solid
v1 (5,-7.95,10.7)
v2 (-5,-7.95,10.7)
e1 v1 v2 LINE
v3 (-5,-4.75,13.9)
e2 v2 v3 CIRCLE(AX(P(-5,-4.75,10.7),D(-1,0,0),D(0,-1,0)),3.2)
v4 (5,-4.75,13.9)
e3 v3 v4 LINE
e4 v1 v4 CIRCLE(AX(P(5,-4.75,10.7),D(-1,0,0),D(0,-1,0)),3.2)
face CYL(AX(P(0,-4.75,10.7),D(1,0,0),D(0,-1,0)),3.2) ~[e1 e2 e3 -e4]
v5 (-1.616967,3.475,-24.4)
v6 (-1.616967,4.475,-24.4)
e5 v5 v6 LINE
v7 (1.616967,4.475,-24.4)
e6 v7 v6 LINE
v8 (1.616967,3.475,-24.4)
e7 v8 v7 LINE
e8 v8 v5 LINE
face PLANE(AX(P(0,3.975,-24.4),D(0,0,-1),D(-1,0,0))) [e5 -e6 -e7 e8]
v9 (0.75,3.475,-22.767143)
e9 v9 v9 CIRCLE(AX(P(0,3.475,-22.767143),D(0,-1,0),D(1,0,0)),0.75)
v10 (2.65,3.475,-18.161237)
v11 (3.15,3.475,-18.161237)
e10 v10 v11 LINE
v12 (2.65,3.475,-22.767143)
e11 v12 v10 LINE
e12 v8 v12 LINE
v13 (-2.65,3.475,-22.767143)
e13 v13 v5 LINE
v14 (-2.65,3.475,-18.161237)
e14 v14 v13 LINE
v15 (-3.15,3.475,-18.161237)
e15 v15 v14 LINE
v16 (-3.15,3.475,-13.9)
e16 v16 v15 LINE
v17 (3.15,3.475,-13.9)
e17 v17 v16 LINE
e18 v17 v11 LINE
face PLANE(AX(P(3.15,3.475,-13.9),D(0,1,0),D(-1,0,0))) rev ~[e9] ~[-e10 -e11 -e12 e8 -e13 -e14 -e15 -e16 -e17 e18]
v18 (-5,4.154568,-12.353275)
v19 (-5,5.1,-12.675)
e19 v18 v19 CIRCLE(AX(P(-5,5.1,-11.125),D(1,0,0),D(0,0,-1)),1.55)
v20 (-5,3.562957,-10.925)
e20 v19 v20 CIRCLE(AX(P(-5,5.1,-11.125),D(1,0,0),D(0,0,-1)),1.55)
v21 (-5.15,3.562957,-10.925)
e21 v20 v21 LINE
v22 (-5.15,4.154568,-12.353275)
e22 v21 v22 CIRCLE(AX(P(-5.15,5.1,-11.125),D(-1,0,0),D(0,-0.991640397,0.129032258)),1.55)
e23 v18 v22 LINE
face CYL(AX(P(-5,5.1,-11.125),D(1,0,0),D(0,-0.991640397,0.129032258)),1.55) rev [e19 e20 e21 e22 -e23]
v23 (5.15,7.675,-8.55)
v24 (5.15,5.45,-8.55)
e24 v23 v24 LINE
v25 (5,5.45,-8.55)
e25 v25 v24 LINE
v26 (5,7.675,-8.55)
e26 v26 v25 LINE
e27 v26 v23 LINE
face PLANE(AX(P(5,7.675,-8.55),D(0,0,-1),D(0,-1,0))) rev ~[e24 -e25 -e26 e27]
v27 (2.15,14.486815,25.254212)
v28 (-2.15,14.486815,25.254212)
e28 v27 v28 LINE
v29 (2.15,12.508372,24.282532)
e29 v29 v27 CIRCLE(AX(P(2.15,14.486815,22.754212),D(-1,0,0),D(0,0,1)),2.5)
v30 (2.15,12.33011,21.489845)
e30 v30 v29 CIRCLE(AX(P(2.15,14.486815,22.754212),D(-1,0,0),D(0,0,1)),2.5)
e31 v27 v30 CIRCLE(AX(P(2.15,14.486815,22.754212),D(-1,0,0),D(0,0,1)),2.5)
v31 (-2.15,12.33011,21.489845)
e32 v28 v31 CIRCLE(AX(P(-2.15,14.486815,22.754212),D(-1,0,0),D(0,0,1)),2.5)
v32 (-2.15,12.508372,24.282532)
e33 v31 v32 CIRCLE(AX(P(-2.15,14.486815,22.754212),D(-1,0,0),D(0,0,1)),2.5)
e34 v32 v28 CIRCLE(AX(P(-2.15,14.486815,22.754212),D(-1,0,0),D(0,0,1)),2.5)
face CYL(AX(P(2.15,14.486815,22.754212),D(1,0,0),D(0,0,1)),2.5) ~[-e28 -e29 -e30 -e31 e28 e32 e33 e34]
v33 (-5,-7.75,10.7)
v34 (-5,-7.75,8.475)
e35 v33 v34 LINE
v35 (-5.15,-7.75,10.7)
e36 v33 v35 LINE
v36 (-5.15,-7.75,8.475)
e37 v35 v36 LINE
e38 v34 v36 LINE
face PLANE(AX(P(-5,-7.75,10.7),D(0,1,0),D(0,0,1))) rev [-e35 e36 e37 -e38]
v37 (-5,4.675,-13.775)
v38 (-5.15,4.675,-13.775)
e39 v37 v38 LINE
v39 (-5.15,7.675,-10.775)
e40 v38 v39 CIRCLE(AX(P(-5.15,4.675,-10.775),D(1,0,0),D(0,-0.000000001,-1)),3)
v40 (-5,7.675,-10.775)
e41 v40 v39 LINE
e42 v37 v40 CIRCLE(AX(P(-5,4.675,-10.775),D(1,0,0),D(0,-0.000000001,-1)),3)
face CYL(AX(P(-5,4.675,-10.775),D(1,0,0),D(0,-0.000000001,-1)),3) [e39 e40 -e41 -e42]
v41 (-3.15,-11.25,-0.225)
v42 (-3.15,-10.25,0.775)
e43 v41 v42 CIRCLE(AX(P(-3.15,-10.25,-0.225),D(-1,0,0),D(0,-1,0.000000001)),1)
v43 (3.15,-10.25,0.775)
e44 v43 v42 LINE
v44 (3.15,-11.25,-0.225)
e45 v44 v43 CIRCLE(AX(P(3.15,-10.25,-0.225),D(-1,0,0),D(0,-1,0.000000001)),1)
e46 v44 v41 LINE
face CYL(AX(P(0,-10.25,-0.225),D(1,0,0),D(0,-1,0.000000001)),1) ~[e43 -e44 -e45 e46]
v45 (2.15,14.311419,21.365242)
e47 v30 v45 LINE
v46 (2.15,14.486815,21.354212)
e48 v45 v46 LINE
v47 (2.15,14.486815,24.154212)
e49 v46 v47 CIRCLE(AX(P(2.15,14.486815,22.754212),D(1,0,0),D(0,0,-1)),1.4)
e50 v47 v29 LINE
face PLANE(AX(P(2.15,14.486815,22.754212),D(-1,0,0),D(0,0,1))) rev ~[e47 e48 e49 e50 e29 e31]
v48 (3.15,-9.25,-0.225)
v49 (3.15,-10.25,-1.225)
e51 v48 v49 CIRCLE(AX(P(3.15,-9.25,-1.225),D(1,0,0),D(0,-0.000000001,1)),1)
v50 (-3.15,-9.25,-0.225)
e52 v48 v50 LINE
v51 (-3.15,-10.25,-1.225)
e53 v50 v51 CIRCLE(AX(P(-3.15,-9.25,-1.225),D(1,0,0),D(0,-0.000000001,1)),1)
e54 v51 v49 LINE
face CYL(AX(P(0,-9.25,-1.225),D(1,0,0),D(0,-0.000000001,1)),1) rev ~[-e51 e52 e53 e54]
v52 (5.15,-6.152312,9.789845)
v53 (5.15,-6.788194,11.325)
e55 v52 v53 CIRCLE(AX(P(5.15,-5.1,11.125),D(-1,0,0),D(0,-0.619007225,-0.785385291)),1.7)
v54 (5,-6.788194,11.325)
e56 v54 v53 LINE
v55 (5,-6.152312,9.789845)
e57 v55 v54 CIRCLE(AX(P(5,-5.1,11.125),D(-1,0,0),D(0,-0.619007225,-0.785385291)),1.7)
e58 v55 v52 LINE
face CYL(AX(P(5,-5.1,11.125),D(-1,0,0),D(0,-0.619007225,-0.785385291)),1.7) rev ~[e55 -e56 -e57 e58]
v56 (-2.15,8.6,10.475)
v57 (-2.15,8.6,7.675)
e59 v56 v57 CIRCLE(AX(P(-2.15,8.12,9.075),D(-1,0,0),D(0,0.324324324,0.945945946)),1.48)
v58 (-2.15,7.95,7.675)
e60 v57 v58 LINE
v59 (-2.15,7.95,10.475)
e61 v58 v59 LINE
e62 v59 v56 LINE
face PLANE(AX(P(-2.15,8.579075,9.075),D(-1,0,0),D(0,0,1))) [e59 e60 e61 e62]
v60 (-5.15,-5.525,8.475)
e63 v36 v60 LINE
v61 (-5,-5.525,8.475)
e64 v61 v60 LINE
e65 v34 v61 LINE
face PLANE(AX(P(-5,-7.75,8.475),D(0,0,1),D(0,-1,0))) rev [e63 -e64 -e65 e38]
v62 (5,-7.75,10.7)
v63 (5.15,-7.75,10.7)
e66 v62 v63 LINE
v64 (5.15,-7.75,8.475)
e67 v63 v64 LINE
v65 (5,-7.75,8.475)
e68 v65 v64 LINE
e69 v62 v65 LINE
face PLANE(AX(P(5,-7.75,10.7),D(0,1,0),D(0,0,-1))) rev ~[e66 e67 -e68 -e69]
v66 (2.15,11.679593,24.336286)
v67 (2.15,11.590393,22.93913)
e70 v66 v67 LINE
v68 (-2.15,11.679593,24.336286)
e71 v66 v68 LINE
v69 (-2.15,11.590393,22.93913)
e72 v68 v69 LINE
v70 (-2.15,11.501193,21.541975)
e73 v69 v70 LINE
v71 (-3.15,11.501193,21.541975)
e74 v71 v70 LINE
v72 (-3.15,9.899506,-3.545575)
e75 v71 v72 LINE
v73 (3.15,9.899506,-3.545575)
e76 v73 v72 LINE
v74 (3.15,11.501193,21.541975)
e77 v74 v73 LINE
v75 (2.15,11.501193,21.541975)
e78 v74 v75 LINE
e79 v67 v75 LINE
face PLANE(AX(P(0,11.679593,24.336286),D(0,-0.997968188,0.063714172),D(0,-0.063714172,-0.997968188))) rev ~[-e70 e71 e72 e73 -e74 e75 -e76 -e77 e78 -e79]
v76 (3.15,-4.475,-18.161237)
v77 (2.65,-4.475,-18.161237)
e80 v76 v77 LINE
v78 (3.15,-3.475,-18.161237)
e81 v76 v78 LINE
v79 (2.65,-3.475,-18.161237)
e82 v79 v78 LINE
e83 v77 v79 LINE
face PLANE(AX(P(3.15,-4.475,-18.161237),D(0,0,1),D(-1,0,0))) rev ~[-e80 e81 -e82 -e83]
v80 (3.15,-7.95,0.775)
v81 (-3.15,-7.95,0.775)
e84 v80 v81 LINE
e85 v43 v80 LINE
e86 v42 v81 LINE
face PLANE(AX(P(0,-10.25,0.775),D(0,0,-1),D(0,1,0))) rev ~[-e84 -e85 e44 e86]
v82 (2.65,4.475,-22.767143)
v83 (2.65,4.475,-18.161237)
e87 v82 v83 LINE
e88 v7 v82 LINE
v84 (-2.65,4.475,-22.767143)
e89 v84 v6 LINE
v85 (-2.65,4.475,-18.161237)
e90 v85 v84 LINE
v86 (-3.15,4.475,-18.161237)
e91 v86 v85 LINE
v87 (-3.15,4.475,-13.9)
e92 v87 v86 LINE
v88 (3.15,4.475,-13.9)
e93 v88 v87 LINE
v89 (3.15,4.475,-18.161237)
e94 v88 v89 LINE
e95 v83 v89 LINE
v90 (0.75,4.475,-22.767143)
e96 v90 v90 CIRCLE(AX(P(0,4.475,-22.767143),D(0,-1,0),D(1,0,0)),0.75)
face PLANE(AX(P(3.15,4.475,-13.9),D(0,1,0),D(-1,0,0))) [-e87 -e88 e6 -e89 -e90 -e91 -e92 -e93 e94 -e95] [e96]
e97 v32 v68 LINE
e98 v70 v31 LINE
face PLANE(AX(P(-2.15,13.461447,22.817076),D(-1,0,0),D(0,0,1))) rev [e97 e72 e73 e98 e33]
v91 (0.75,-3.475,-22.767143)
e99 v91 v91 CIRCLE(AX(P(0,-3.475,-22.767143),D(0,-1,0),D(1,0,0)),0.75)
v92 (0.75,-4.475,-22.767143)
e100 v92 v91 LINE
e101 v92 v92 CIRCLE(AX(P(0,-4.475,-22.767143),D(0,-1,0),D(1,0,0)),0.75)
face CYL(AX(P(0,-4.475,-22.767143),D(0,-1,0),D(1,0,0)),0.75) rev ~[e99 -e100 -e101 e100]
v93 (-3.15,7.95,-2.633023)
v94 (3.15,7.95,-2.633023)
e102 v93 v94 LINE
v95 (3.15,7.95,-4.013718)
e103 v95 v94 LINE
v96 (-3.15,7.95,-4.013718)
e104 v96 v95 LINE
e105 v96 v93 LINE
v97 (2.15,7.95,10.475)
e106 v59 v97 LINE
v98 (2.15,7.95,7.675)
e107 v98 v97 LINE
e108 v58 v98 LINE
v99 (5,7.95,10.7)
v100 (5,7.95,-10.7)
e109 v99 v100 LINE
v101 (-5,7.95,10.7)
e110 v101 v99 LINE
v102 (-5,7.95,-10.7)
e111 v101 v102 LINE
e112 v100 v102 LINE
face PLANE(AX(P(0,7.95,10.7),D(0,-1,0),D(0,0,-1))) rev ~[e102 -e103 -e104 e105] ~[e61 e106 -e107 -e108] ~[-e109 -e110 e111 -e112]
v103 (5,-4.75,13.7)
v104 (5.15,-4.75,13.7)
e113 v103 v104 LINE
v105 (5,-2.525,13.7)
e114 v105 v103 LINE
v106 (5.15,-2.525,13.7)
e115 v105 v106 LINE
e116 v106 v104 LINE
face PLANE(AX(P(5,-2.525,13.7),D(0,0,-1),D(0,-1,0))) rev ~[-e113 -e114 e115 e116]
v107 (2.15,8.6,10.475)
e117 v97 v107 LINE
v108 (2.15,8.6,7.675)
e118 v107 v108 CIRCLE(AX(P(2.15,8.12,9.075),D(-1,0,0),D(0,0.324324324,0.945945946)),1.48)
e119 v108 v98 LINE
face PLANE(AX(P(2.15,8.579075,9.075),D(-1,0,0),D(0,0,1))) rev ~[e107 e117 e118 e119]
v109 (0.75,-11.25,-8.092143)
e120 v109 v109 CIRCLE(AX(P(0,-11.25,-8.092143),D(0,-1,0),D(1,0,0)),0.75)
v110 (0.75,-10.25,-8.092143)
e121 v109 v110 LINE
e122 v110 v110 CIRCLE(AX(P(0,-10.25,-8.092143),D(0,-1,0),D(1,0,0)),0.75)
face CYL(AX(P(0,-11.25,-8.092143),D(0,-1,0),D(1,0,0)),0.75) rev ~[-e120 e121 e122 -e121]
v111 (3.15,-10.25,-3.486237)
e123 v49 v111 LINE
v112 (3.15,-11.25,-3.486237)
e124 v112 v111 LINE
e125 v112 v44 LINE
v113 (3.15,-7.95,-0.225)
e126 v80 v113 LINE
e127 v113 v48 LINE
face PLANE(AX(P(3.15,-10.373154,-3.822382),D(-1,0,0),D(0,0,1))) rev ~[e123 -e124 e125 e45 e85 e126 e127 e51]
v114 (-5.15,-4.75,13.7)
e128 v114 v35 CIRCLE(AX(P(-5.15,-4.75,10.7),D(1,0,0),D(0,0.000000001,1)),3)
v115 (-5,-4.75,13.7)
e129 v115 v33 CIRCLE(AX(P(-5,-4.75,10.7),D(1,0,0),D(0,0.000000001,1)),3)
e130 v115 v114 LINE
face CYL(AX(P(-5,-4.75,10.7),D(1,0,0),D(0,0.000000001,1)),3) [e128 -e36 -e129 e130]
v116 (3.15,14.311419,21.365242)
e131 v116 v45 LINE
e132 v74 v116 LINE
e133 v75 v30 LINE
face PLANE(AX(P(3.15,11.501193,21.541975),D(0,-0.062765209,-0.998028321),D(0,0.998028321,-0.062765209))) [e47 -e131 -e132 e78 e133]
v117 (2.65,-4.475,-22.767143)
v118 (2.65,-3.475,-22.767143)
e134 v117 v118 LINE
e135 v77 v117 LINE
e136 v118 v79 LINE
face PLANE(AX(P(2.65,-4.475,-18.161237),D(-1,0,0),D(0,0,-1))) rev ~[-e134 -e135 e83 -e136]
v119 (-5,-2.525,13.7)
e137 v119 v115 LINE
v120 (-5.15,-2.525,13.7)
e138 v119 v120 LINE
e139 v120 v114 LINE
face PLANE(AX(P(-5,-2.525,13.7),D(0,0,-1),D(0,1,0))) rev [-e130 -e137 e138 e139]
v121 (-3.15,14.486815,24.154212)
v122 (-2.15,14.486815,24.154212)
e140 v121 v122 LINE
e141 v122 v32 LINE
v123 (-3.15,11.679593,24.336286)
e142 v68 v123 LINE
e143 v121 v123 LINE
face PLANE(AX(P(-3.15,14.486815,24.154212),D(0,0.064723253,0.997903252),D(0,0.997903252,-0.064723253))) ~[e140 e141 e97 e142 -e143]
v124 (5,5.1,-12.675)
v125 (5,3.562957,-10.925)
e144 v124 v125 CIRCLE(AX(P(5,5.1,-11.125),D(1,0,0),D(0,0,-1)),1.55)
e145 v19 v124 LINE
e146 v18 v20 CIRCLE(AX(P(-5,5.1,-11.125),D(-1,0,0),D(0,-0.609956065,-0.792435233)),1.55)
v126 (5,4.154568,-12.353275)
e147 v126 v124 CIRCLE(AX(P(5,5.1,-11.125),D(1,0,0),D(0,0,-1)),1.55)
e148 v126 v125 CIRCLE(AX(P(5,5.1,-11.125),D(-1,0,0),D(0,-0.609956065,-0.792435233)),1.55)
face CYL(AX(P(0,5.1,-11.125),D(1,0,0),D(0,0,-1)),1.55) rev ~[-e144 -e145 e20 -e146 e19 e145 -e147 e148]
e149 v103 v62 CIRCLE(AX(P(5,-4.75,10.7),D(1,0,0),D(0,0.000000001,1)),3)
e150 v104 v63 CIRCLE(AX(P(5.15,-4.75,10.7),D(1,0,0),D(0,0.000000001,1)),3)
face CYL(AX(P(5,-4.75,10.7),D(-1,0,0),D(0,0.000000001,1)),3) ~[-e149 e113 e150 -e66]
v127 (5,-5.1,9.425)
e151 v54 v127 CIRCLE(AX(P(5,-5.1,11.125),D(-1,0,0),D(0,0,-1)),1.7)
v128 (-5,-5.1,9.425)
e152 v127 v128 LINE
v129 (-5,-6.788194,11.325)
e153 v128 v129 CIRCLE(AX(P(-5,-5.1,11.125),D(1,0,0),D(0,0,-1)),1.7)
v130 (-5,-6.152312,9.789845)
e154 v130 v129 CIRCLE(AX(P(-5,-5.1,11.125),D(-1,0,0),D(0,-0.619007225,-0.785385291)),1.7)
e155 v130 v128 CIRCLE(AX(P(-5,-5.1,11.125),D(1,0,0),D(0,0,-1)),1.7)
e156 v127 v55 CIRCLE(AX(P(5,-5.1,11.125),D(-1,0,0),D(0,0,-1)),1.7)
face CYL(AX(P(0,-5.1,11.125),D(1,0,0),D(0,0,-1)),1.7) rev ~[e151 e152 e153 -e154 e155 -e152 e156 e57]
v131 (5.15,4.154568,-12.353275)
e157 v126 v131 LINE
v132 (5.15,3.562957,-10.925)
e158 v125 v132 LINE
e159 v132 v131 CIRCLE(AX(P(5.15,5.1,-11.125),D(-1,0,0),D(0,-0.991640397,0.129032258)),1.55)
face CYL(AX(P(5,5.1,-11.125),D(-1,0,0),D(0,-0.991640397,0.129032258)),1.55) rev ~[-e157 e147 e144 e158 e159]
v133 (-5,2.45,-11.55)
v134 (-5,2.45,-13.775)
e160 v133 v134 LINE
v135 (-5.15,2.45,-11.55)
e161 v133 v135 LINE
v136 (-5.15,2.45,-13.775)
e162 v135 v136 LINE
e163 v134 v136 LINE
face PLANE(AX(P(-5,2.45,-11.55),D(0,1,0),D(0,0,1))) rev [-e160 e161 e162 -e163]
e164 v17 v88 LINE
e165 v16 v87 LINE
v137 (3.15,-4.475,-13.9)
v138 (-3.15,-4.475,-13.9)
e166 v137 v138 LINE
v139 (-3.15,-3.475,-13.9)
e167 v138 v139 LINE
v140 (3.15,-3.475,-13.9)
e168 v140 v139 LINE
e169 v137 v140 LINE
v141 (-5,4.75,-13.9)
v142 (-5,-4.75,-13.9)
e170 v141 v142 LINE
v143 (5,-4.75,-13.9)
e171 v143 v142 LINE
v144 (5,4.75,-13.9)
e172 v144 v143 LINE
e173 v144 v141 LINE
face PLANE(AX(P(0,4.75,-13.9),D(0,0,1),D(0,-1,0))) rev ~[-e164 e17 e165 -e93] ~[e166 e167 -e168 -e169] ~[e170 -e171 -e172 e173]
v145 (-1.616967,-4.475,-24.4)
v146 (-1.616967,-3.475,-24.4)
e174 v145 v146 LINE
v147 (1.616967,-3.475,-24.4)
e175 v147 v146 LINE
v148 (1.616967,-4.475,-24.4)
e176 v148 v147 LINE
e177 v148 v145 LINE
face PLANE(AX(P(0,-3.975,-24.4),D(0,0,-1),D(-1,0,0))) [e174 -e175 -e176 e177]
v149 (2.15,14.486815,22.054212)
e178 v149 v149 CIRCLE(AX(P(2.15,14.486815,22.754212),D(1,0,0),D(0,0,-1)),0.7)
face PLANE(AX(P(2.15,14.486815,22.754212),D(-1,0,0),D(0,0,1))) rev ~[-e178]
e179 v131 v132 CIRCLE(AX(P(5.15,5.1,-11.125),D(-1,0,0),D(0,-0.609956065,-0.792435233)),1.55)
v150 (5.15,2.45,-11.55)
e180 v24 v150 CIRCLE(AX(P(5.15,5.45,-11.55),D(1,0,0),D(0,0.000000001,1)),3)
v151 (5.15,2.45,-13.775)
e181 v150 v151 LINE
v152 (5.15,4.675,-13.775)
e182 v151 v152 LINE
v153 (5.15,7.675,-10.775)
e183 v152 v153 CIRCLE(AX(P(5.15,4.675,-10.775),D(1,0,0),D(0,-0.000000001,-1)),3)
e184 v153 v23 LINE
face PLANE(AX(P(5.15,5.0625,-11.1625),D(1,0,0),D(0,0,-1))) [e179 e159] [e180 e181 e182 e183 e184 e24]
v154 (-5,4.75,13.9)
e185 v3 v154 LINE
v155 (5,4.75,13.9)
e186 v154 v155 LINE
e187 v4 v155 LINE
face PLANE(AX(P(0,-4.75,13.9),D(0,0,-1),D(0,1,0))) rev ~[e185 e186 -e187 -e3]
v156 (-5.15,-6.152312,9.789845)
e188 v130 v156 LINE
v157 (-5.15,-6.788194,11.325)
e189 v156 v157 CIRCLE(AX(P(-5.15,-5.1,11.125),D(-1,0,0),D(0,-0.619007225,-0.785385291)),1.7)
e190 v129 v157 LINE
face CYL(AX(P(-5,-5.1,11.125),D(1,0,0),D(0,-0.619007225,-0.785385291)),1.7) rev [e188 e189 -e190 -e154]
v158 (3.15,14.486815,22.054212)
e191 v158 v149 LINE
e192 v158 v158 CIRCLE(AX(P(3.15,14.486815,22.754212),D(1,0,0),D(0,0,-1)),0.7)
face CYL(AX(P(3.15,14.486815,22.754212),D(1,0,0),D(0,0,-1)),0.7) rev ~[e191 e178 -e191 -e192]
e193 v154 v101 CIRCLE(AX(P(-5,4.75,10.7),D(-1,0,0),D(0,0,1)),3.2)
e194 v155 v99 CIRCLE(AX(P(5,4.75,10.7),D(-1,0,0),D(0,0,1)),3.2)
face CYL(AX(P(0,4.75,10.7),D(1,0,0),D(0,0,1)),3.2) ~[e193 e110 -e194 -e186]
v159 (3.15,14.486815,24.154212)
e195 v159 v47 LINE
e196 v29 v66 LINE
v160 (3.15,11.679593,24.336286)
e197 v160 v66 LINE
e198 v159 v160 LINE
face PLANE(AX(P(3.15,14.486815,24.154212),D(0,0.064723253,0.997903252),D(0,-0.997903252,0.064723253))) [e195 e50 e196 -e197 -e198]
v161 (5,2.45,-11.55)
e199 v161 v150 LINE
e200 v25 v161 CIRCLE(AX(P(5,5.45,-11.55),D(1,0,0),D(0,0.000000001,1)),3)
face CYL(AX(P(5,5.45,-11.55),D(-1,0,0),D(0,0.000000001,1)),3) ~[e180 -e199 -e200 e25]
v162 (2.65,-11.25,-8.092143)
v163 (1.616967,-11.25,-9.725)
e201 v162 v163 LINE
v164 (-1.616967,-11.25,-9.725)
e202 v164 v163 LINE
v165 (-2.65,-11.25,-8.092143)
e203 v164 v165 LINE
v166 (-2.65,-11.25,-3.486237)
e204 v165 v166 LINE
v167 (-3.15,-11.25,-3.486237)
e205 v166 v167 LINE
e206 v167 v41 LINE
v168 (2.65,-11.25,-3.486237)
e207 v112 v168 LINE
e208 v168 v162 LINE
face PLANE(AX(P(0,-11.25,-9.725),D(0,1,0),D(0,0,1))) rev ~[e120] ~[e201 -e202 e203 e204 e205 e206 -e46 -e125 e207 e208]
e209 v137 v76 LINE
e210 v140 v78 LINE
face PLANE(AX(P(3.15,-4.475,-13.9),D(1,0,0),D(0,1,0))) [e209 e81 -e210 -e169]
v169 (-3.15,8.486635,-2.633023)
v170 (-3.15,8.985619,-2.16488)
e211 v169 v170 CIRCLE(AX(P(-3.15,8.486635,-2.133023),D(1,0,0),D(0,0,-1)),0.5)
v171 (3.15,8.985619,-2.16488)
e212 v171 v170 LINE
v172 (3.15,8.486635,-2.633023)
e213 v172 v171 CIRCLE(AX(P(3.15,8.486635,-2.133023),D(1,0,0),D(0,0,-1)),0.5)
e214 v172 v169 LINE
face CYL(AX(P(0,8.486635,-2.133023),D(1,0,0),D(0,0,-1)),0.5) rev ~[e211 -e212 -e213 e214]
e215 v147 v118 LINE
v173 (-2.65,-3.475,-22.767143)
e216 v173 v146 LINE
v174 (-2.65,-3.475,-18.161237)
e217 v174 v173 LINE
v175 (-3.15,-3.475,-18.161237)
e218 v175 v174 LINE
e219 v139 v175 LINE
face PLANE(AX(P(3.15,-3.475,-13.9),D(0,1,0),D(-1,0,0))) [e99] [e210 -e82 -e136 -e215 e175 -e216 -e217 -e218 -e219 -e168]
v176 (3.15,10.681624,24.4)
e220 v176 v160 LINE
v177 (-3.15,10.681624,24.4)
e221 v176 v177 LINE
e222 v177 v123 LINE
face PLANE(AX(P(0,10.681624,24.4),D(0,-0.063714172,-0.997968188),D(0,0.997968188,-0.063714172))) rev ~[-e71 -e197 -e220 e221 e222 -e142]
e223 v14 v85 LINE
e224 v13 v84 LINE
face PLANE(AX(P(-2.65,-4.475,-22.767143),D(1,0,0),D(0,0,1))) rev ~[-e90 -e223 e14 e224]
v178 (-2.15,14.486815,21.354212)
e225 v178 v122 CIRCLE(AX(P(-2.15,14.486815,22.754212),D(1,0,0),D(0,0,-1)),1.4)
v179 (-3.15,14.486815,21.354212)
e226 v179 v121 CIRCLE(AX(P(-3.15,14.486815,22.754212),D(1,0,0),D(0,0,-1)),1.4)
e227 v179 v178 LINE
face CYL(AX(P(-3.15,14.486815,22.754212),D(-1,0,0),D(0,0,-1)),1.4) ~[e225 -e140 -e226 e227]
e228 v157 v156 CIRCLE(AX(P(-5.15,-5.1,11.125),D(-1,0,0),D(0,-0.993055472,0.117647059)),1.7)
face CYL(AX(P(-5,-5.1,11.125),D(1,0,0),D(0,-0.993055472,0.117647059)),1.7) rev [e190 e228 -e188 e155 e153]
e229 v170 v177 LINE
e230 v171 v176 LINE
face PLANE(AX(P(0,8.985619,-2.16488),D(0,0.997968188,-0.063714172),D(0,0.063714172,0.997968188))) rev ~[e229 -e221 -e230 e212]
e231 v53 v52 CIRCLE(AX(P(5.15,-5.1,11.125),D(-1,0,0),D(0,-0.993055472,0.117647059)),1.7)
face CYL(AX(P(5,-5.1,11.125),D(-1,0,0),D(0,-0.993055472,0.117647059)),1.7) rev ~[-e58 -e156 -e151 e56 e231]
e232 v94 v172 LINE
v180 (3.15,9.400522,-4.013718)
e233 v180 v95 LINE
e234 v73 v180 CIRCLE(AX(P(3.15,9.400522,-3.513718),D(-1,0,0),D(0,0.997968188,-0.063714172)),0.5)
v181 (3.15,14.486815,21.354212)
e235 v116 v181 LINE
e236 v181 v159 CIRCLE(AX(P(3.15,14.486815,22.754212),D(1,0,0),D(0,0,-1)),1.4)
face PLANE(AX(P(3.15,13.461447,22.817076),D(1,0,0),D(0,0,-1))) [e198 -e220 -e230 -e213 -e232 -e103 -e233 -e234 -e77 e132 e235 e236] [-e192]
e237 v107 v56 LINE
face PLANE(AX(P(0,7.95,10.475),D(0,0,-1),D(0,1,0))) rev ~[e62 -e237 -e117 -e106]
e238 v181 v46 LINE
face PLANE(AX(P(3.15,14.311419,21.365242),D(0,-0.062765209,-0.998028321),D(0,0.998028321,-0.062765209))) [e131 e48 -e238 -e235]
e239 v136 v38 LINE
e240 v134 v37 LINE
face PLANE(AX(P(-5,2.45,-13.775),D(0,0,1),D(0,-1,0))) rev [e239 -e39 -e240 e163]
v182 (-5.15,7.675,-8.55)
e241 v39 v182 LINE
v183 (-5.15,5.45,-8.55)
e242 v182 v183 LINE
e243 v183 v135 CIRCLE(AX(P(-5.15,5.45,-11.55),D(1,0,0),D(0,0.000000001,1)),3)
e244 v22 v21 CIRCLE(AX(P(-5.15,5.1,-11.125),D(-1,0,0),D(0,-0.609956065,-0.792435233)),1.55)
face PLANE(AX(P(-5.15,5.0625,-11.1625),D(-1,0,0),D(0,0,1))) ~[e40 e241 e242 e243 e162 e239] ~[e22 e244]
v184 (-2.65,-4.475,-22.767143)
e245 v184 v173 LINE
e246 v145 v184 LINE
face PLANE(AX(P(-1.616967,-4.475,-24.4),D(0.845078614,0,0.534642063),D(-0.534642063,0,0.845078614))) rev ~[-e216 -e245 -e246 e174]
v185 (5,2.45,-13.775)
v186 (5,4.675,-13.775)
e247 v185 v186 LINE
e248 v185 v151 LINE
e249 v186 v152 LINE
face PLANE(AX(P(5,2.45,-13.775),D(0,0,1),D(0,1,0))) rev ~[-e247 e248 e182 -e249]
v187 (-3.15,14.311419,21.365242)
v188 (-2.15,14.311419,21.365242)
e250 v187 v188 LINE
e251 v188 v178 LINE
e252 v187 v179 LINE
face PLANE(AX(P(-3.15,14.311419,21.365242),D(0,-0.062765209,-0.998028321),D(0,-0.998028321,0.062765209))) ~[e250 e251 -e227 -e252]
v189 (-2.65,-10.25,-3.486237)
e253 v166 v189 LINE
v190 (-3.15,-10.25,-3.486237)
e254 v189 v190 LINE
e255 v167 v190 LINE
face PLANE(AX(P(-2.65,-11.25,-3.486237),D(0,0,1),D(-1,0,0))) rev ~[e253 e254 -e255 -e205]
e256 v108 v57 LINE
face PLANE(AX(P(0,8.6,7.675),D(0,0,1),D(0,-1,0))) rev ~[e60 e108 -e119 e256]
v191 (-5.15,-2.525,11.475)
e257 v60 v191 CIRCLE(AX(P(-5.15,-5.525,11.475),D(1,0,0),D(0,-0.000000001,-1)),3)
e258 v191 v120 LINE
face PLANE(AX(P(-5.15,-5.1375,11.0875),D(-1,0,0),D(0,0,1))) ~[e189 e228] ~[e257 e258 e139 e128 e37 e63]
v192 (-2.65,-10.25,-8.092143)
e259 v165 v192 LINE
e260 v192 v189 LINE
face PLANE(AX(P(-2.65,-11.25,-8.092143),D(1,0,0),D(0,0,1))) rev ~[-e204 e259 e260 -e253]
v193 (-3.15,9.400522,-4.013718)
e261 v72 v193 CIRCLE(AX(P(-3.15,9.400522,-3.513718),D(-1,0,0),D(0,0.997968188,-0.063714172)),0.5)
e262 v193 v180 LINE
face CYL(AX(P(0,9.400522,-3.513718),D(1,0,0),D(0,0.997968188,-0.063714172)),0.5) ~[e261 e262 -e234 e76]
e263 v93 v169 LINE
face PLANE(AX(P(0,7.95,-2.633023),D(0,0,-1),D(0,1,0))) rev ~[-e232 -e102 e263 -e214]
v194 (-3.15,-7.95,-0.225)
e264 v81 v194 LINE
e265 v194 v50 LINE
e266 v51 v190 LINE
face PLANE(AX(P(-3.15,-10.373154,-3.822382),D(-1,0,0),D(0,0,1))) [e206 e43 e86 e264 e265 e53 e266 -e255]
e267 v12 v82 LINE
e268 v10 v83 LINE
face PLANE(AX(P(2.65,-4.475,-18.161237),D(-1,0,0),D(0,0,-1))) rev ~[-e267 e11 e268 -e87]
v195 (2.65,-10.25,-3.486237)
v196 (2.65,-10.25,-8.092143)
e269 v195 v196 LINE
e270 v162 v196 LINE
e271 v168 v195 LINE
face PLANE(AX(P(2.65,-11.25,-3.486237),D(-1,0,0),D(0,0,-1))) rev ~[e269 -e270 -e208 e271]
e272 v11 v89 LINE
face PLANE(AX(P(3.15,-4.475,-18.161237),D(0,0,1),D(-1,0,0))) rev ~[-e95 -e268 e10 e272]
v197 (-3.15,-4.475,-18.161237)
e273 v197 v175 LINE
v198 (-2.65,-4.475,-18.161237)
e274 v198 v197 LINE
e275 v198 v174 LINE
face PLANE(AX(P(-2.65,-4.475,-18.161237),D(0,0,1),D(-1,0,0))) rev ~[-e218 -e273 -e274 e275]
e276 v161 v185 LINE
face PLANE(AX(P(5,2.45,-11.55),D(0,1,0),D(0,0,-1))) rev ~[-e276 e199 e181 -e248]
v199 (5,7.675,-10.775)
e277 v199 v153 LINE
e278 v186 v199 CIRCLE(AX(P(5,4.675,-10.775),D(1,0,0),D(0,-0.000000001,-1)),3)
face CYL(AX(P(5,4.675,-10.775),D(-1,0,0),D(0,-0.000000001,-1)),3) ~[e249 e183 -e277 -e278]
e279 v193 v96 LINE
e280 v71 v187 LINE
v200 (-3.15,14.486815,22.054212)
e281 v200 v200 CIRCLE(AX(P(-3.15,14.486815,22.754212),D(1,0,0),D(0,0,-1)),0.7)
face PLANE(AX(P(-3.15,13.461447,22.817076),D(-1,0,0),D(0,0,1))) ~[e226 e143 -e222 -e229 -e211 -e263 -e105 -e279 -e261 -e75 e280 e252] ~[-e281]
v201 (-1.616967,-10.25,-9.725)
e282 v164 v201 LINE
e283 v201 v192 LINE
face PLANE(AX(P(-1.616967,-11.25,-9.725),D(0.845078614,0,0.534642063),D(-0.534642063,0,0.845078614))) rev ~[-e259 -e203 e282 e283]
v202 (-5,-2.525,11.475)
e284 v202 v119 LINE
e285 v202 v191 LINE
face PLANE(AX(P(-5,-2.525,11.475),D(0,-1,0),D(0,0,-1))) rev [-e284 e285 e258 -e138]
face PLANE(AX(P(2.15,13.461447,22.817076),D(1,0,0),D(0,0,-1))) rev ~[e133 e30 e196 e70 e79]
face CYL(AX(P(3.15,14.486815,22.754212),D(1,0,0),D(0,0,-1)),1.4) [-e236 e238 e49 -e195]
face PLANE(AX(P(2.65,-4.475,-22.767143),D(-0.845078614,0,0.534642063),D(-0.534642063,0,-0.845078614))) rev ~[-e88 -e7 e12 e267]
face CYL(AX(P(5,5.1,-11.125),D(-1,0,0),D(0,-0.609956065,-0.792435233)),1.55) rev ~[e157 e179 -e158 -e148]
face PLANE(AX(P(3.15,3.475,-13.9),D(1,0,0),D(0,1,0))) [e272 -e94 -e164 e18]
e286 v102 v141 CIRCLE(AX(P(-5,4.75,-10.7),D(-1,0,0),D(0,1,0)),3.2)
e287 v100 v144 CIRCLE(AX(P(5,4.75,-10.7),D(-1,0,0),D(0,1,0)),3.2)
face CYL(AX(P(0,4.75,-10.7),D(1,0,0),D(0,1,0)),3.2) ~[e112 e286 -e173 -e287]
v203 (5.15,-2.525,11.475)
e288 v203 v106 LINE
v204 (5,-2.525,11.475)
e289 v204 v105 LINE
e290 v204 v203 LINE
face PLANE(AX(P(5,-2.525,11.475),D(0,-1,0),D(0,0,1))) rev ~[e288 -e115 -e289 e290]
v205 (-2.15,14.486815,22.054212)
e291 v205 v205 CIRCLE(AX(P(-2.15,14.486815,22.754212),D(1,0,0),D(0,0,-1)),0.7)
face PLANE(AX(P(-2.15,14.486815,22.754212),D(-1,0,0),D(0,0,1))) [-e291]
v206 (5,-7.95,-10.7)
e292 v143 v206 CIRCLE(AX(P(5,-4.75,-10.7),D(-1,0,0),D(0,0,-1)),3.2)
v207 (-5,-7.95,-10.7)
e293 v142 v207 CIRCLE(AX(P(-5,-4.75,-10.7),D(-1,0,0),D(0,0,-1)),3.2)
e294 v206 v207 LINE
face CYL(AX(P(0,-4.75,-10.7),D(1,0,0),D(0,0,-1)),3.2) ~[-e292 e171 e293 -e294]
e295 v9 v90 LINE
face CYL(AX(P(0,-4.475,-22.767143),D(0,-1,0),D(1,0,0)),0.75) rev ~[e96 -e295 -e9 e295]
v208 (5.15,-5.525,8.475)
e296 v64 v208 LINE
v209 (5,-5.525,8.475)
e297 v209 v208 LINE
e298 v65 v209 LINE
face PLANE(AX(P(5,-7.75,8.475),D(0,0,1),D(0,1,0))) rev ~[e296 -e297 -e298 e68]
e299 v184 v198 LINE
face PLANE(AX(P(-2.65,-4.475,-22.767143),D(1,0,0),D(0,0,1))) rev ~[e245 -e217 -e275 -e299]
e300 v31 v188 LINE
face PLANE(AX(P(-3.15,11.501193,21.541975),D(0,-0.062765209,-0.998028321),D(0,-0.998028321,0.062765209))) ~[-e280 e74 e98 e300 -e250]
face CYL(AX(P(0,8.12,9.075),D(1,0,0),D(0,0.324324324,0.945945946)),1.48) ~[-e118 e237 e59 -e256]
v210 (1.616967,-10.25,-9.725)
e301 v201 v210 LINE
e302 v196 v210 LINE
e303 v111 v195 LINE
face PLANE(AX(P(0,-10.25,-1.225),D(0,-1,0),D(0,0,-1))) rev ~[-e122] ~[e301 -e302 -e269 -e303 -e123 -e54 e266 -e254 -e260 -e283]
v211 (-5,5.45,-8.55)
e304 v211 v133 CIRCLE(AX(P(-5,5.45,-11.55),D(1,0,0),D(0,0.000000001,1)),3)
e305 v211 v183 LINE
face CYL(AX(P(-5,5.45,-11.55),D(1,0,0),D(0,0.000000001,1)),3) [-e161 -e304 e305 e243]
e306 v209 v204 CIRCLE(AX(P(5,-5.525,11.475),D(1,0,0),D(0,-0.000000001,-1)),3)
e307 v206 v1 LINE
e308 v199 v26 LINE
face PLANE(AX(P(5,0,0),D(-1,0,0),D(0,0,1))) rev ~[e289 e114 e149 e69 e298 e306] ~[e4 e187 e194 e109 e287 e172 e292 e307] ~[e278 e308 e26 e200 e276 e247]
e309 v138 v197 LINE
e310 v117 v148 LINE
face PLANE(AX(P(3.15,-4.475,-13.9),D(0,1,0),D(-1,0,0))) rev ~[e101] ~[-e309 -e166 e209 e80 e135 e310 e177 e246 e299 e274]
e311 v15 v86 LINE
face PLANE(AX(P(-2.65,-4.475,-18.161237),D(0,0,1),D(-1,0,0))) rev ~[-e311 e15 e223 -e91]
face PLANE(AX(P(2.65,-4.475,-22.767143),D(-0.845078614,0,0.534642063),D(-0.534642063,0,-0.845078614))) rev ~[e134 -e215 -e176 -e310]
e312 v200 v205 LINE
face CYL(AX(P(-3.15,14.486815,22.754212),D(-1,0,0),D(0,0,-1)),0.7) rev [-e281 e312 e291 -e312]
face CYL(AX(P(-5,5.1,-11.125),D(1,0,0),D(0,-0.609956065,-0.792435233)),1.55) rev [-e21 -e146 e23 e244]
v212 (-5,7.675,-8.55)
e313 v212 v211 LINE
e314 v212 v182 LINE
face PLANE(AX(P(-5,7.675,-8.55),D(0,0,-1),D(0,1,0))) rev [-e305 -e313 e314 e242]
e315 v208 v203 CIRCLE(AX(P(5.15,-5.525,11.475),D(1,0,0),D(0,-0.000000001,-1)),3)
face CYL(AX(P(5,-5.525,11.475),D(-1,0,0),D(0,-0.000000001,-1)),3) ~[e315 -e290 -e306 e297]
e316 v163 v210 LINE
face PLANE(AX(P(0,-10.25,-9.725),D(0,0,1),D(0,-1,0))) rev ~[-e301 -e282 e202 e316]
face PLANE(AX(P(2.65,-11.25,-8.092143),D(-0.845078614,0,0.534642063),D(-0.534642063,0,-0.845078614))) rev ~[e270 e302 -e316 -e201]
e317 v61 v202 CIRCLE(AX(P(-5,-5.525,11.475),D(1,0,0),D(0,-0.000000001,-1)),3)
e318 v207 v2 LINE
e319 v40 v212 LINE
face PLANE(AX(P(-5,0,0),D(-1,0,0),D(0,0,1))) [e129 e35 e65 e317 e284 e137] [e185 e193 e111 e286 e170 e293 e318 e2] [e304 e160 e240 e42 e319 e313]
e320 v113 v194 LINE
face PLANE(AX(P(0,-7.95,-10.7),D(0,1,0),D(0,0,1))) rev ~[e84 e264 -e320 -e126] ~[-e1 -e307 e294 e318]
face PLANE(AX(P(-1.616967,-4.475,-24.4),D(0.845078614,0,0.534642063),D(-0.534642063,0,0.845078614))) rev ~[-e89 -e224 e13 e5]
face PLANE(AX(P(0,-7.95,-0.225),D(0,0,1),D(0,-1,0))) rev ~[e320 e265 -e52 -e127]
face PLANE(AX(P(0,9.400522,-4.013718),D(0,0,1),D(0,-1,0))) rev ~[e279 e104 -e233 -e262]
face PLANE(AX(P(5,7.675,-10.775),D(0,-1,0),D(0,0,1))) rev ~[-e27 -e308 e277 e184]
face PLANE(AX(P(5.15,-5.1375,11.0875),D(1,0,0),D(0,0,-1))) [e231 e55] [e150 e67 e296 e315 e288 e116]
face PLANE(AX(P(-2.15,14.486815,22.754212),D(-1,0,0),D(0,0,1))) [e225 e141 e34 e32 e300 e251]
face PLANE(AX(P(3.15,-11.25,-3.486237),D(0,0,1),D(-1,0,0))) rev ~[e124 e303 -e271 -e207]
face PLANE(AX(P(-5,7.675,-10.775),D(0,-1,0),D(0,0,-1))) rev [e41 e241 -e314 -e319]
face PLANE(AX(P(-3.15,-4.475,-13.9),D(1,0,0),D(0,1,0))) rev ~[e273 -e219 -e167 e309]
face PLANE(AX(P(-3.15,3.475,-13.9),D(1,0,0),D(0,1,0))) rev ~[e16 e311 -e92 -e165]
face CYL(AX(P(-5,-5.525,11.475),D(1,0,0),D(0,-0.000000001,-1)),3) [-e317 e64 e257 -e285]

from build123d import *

# Parameters (mm, degrees)
BLOCOBASE_DEPTH           = 5
SKFIXACAO_R               = 1.7
SKFIXACAO_R_2             = 1.55
FIXACAO_DEPTH             = 5.15
RESSALTOFIXACAO_DEPTH     = 0.15
BOTAO_DEPTH               = 2.15
SKETCH5_W                 = 6.3
SKETCH5_H                 = 1
BASECONECTORNONC_DEPTH    = 10.5
SKDESENHOCONECTORNONC_R   = 0.75
DESENHOCONECTORNONC_DEPTH = 20.5
BASECONECTORCOM_DEPTH     = 3.15
SKDESENHOCONECTORCOM_R    = 0.75
DESENHOCONECTORCOM_DEPTH  = 1
BASECONTATO_DEPTH         = 3.15
SKAPOIOROLO_R             = 0.7
APOIOROLO_DEPTH           = 1
SKROLO_R                  = 2.5
ROLO_DEPTH                = 4.3


with BuildPart() as part:
    # skBlocoBase → BlocoBase (new body, symmetric)
    with BuildSketch(Plane(origin=(0, 0, 0), x_dir=(0, 0, -1), z_dir=(1, 0, 0))):
        with BuildLine():
            Line((-10.7, 7.95), (10.7, 7.95))
            ThreePointArc((10.7, 7.95), (12.9627417, 7.0127417), (13.9, 4.75))
            Line((13.9, 4.75), (13.9, -4.75))
            ThreePointArc((13.9, -4.75), (12.9627417, -7.0127417), (10.7, -7.95))
            Line((10.7, -7.95), (-10.7, -7.95))
            ThreePointArc((-10.7, -7.95), (-12.9627417, -7.0127417), (-13.9, -4.75))
            Line((-13.9, -4.75), (-13.9, 4.75))
            ThreePointArc((-13.9, 4.75), (-12.9627417, 7.0127417), (-10.7, 7.95))
        make_face()
    extrude(amount=BLOCOBASE_DEPTH, both=True)

    # skFixacao → Fixacao (cut, symmetric)
    with BuildSketch(Plane(origin=(0, 0, 0), x_dir=(0, 0, -1), z_dir=(1, 0, 0))):
        with Locations((-11.125, -5.1)):
            Circle(SKFIXACAO_R)
        with Locations((11.125, 5.1)):
            Circle(SKFIXACAO_R_2)
    extrude(amount=FIXACAO_DEPTH, both=True, mode=Mode.SUBTRACT)

    # skRessaltoFixacao → RessaltoFixacao (add)
    with BuildSketch(Plane(origin=(5, 0, 0), x_dir=(0, 0, -1), z_dir=(1, 0, 0))):
        with BuildLine():
            ThreePointArc((-8.475, -5.525), (-9.353679656, -3.403679656), (-11.475, -2.525))
            Line((-11.475, -2.525), (-13.7, -2.525))
            Line((-13.7, -2.525), (-13.7, -4.75))
            ThreePointArc((-13.7, -4.75), (-12.821320344, -6.871320344), (-10.7, -7.75))
            Line((-10.7, -7.75), (-8.475, -7.75))
            Line((-8.475, -7.75), (-8.475, -5.525))
        make_face()
        with BuildLine():
            ThreePointArc((-9.789845005, -6.152312282), (-10.474438165, -6.670595205), (-11.325, -6.788194302))
            ThreePointArc((-11.325, -6.788194302), (-11.775561835, -3.529404795), (-9.789845005, -6.152312282))
        make_face(mode=Mode.SUBTRACT)
        with BuildLine():
            ThreePointArc((13.775, 4.675), (12.896320344, 6.796320344), (10.775, 7.675))
            Line((10.775, 7.675), (8.55, 7.675))
            Line((8.55, 7.675), (8.55, 5.45))
            ThreePointArc((8.55, 5.45), (9.428679656, 3.328679656), (11.55, 2.45))
            Line((11.55, 2.45), (13.775, 2.45))
            Line((13.775, 2.45), (13.775, 4.675))
        make_face()
        with BuildLine():
            ThreePointArc((12.353274612, 4.1545681), (11.71815932, 3.667986725), (10.925, 3.562957385))
            ThreePointArc((10.925, 3.562957385), (10.53184068, 6.532013275), (12.353274612, 4.1545681))
        make_face(mode=Mode.SUBTRACT)
    ressaltofixacao = extrude(amount=RESSALTOFIXACAO_DEPTH)

    # MirrorRessaltoFixacao: RessaltoFixacao across plane
    add(ressaltofixacao.mirror(Plane(origin=(0, 0, 0), x_dir=(0, 0, 1), z_dir=(1, 0, 0))))

    # skBotao → Botao (add, symmetric)
    with BuildSketch(Plane(origin=(0, 0, 0), x_dir=(0, 0, -1), z_dir=(1, 0, 0))):
        with BuildLine():
            Line((-10.475, 7.95), (-10.475, 8.6))
            ThreePointArc((-10.475, 8.6), (-9.075, 9.6), (-7.675, 8.6))
            Line((-7.675, 8.6), (-7.675, 7.95))
            Line((-7.675, 7.95), (-10.475, 7.95))
        make_face()
    extrude(amount=BOTAO_DEPTH, both=True)

    # Sketch5 → BaseConectorNONC (add)
    with BuildSketch(Plane(origin=(0, 0, -13.9), x_dir=(-1, 0, 0), z_dir=(0, 0, -1))):
        with Locations((0, -3.975)):
            Rectangle(SKETCH5_W, SKETCH5_H)
        with Locations((0, 3.975)):
            Rectangle(SKETCH5_W, SKETCH5_H)
    extrude(amount=BASECONECTORNONC_DEPTH)

    # skDesenhoConectorNONC → DesenhoConectorNONC (cut)
    with BuildSketch(Plane.XZ.offset(4.475)):
        Polygon((2.65, -22.767142952), (1.616967042, -24.4), (3.15, -24.4), (3.15, -18.161236833), (2.65, -18.161236833), align=None)
        Polygon((-3.15, -24.4), (-1.616967042, -24.4), (-2.65, -22.767142952), (-2.65, -18.161236833), (-3.15, -18.161236833), align=None)
        with Locations((0, -22.767142952)):
            Circle(SKDESENHOCONECTORNONC_R)
    extrude(amount=-DESENHOCONECTORNONC_DEPTH, mode=Mode.SUBTRACT)

    # skBaseConectorCOM → BaseConectorCOM (add, symmetric)
    with BuildSketch(Plane(origin=(0, 0, 0), x_dir=(0, 0, -1), z_dir=(1, 0, 0))):
        with BuildLine():
            Line((9.725, -11.25), (0.225, -11.25))
            ThreePointArc((0.225, -11.25), (-0.482106781, -10.957106781), (-0.775, -10.25))
            Line((-0.775, -10.25), (-0.775, -7.95))
            Line((-0.775, -7.95), (0.225, -7.95))
            Line((0.225, -7.95), (0.225, -9.25))
            ThreePointArc((0.225, -9.25), (0.517893219, -9.957106781), (1.225, -10.25))
            Line((1.225, -10.25), (9.725, -10.25))
            Line((9.725, -10.25), (9.725, -11.25))
        make_face()
    extrude(amount=BASECONECTORCOM_DEPTH, both=True)

    # skDesenhoConectorCOM → DesenhoConectorCOM (cut)
    with BuildSketch(Plane.XZ.offset(11.25)):
        Polygon((2.65, -8.092142952), (1.616967042, -9.725), (3.15, -9.725), (3.15, -3.486236833), (2.65, -3.486236833), align=None)
        Polygon((-3.15, -9.725), (-1.616967042, -9.725), (-2.65, -8.092142952), (-2.65, -3.486236833), (-3.15, -3.486236833), align=None)
        with Locations((0, -8.092142952)):
            Circle(SKDESENHOCONECTORCOM_R)
    extrude(amount=-DESENHOCONECTORCOM_DEPTH, mode=Mode.SUBTRACT)

    # skBaseContato → BaseContato (add, symmetric)
    with BuildSketch(Plane(origin=(0, 0, 0), x_dir=(0, 0, -1), z_dir=(1, 0, 0))):
        with BuildLine():
            Line((2.63302332, 7.95), (2.63302332, 8.486635004))
            ThreePointArc((2.63302332, 8.486635004), (2.497665983, 8.828739854), (2.164880406, 8.985619098))
            Line((2.164880406, 8.985619098), (-24.4, 10.681624431))
            Line((-24.4, 10.681624431), (-24.336285828, 11.679592619))
            Line((-24.336285828, 11.679592619), (3.545575005, 9.899506131))
            ThreePointArc((3.545575005, 9.899506131), (3.878360582, 9.742626887), (4.013717919, 9.400522037))
            Line((4.013717919, 9.400522037), (4.013717919, 7.95))
            Line((4.013717919, 7.95), (2.63302332, 7.95))
        make_face()
    extrude(amount=BASECONTATO_DEPTH, both=True)

    # skApoioRolo → ApoioRolo (add)
    with BuildSketch(Plane(origin=(3.15, 0, 0), x_dir=(0, 0, -1), z_dir=(1, 0, 0))):
        with BuildLine():
            ThreePointArc((-21.354211514, 14.486814776), (-22.754211514, 15.886814776), (-24.154211514, 14.486814776))
            Line((-24.154211514, 14.486814776), (-24.336285828, 11.679592619))
            Line((-24.336285828, 11.679592619), (-22.939130364, 11.590392778))
            Line((-22.939130364, 11.590392778), (-21.541974901, 11.501192936))
            Line((-21.541974901, 11.501192936), (-21.365242034, 14.3114187))
            Line((-21.365242034, 14.3114187), (-21.354211514, 14.486814776))
        make_face()
        with Locations((-22.754211514, 14.486814776)):
            Circle(SKAPOIOROLO_R, mode=Mode.SUBTRACT)
    apoiorolo = extrude(amount=-APOIOROLO_DEPTH)

    # MirrorApoioRolo: ApoioRolo across plane
    add(apoiorolo.mirror(Plane(origin=(0, 0, 0), x_dir=(0, 0, 1), z_dir=(1, 0, 0))))

    # skRolo → Rolo (add)
    with BuildSketch(Plane.ZY.offset(-2.15)):
        with Locations((22.754211514, 14.486814776)):
            Circle(SKROLO_R)
    extrude(amount=ROLO_DEPTH)


solid = part.part
